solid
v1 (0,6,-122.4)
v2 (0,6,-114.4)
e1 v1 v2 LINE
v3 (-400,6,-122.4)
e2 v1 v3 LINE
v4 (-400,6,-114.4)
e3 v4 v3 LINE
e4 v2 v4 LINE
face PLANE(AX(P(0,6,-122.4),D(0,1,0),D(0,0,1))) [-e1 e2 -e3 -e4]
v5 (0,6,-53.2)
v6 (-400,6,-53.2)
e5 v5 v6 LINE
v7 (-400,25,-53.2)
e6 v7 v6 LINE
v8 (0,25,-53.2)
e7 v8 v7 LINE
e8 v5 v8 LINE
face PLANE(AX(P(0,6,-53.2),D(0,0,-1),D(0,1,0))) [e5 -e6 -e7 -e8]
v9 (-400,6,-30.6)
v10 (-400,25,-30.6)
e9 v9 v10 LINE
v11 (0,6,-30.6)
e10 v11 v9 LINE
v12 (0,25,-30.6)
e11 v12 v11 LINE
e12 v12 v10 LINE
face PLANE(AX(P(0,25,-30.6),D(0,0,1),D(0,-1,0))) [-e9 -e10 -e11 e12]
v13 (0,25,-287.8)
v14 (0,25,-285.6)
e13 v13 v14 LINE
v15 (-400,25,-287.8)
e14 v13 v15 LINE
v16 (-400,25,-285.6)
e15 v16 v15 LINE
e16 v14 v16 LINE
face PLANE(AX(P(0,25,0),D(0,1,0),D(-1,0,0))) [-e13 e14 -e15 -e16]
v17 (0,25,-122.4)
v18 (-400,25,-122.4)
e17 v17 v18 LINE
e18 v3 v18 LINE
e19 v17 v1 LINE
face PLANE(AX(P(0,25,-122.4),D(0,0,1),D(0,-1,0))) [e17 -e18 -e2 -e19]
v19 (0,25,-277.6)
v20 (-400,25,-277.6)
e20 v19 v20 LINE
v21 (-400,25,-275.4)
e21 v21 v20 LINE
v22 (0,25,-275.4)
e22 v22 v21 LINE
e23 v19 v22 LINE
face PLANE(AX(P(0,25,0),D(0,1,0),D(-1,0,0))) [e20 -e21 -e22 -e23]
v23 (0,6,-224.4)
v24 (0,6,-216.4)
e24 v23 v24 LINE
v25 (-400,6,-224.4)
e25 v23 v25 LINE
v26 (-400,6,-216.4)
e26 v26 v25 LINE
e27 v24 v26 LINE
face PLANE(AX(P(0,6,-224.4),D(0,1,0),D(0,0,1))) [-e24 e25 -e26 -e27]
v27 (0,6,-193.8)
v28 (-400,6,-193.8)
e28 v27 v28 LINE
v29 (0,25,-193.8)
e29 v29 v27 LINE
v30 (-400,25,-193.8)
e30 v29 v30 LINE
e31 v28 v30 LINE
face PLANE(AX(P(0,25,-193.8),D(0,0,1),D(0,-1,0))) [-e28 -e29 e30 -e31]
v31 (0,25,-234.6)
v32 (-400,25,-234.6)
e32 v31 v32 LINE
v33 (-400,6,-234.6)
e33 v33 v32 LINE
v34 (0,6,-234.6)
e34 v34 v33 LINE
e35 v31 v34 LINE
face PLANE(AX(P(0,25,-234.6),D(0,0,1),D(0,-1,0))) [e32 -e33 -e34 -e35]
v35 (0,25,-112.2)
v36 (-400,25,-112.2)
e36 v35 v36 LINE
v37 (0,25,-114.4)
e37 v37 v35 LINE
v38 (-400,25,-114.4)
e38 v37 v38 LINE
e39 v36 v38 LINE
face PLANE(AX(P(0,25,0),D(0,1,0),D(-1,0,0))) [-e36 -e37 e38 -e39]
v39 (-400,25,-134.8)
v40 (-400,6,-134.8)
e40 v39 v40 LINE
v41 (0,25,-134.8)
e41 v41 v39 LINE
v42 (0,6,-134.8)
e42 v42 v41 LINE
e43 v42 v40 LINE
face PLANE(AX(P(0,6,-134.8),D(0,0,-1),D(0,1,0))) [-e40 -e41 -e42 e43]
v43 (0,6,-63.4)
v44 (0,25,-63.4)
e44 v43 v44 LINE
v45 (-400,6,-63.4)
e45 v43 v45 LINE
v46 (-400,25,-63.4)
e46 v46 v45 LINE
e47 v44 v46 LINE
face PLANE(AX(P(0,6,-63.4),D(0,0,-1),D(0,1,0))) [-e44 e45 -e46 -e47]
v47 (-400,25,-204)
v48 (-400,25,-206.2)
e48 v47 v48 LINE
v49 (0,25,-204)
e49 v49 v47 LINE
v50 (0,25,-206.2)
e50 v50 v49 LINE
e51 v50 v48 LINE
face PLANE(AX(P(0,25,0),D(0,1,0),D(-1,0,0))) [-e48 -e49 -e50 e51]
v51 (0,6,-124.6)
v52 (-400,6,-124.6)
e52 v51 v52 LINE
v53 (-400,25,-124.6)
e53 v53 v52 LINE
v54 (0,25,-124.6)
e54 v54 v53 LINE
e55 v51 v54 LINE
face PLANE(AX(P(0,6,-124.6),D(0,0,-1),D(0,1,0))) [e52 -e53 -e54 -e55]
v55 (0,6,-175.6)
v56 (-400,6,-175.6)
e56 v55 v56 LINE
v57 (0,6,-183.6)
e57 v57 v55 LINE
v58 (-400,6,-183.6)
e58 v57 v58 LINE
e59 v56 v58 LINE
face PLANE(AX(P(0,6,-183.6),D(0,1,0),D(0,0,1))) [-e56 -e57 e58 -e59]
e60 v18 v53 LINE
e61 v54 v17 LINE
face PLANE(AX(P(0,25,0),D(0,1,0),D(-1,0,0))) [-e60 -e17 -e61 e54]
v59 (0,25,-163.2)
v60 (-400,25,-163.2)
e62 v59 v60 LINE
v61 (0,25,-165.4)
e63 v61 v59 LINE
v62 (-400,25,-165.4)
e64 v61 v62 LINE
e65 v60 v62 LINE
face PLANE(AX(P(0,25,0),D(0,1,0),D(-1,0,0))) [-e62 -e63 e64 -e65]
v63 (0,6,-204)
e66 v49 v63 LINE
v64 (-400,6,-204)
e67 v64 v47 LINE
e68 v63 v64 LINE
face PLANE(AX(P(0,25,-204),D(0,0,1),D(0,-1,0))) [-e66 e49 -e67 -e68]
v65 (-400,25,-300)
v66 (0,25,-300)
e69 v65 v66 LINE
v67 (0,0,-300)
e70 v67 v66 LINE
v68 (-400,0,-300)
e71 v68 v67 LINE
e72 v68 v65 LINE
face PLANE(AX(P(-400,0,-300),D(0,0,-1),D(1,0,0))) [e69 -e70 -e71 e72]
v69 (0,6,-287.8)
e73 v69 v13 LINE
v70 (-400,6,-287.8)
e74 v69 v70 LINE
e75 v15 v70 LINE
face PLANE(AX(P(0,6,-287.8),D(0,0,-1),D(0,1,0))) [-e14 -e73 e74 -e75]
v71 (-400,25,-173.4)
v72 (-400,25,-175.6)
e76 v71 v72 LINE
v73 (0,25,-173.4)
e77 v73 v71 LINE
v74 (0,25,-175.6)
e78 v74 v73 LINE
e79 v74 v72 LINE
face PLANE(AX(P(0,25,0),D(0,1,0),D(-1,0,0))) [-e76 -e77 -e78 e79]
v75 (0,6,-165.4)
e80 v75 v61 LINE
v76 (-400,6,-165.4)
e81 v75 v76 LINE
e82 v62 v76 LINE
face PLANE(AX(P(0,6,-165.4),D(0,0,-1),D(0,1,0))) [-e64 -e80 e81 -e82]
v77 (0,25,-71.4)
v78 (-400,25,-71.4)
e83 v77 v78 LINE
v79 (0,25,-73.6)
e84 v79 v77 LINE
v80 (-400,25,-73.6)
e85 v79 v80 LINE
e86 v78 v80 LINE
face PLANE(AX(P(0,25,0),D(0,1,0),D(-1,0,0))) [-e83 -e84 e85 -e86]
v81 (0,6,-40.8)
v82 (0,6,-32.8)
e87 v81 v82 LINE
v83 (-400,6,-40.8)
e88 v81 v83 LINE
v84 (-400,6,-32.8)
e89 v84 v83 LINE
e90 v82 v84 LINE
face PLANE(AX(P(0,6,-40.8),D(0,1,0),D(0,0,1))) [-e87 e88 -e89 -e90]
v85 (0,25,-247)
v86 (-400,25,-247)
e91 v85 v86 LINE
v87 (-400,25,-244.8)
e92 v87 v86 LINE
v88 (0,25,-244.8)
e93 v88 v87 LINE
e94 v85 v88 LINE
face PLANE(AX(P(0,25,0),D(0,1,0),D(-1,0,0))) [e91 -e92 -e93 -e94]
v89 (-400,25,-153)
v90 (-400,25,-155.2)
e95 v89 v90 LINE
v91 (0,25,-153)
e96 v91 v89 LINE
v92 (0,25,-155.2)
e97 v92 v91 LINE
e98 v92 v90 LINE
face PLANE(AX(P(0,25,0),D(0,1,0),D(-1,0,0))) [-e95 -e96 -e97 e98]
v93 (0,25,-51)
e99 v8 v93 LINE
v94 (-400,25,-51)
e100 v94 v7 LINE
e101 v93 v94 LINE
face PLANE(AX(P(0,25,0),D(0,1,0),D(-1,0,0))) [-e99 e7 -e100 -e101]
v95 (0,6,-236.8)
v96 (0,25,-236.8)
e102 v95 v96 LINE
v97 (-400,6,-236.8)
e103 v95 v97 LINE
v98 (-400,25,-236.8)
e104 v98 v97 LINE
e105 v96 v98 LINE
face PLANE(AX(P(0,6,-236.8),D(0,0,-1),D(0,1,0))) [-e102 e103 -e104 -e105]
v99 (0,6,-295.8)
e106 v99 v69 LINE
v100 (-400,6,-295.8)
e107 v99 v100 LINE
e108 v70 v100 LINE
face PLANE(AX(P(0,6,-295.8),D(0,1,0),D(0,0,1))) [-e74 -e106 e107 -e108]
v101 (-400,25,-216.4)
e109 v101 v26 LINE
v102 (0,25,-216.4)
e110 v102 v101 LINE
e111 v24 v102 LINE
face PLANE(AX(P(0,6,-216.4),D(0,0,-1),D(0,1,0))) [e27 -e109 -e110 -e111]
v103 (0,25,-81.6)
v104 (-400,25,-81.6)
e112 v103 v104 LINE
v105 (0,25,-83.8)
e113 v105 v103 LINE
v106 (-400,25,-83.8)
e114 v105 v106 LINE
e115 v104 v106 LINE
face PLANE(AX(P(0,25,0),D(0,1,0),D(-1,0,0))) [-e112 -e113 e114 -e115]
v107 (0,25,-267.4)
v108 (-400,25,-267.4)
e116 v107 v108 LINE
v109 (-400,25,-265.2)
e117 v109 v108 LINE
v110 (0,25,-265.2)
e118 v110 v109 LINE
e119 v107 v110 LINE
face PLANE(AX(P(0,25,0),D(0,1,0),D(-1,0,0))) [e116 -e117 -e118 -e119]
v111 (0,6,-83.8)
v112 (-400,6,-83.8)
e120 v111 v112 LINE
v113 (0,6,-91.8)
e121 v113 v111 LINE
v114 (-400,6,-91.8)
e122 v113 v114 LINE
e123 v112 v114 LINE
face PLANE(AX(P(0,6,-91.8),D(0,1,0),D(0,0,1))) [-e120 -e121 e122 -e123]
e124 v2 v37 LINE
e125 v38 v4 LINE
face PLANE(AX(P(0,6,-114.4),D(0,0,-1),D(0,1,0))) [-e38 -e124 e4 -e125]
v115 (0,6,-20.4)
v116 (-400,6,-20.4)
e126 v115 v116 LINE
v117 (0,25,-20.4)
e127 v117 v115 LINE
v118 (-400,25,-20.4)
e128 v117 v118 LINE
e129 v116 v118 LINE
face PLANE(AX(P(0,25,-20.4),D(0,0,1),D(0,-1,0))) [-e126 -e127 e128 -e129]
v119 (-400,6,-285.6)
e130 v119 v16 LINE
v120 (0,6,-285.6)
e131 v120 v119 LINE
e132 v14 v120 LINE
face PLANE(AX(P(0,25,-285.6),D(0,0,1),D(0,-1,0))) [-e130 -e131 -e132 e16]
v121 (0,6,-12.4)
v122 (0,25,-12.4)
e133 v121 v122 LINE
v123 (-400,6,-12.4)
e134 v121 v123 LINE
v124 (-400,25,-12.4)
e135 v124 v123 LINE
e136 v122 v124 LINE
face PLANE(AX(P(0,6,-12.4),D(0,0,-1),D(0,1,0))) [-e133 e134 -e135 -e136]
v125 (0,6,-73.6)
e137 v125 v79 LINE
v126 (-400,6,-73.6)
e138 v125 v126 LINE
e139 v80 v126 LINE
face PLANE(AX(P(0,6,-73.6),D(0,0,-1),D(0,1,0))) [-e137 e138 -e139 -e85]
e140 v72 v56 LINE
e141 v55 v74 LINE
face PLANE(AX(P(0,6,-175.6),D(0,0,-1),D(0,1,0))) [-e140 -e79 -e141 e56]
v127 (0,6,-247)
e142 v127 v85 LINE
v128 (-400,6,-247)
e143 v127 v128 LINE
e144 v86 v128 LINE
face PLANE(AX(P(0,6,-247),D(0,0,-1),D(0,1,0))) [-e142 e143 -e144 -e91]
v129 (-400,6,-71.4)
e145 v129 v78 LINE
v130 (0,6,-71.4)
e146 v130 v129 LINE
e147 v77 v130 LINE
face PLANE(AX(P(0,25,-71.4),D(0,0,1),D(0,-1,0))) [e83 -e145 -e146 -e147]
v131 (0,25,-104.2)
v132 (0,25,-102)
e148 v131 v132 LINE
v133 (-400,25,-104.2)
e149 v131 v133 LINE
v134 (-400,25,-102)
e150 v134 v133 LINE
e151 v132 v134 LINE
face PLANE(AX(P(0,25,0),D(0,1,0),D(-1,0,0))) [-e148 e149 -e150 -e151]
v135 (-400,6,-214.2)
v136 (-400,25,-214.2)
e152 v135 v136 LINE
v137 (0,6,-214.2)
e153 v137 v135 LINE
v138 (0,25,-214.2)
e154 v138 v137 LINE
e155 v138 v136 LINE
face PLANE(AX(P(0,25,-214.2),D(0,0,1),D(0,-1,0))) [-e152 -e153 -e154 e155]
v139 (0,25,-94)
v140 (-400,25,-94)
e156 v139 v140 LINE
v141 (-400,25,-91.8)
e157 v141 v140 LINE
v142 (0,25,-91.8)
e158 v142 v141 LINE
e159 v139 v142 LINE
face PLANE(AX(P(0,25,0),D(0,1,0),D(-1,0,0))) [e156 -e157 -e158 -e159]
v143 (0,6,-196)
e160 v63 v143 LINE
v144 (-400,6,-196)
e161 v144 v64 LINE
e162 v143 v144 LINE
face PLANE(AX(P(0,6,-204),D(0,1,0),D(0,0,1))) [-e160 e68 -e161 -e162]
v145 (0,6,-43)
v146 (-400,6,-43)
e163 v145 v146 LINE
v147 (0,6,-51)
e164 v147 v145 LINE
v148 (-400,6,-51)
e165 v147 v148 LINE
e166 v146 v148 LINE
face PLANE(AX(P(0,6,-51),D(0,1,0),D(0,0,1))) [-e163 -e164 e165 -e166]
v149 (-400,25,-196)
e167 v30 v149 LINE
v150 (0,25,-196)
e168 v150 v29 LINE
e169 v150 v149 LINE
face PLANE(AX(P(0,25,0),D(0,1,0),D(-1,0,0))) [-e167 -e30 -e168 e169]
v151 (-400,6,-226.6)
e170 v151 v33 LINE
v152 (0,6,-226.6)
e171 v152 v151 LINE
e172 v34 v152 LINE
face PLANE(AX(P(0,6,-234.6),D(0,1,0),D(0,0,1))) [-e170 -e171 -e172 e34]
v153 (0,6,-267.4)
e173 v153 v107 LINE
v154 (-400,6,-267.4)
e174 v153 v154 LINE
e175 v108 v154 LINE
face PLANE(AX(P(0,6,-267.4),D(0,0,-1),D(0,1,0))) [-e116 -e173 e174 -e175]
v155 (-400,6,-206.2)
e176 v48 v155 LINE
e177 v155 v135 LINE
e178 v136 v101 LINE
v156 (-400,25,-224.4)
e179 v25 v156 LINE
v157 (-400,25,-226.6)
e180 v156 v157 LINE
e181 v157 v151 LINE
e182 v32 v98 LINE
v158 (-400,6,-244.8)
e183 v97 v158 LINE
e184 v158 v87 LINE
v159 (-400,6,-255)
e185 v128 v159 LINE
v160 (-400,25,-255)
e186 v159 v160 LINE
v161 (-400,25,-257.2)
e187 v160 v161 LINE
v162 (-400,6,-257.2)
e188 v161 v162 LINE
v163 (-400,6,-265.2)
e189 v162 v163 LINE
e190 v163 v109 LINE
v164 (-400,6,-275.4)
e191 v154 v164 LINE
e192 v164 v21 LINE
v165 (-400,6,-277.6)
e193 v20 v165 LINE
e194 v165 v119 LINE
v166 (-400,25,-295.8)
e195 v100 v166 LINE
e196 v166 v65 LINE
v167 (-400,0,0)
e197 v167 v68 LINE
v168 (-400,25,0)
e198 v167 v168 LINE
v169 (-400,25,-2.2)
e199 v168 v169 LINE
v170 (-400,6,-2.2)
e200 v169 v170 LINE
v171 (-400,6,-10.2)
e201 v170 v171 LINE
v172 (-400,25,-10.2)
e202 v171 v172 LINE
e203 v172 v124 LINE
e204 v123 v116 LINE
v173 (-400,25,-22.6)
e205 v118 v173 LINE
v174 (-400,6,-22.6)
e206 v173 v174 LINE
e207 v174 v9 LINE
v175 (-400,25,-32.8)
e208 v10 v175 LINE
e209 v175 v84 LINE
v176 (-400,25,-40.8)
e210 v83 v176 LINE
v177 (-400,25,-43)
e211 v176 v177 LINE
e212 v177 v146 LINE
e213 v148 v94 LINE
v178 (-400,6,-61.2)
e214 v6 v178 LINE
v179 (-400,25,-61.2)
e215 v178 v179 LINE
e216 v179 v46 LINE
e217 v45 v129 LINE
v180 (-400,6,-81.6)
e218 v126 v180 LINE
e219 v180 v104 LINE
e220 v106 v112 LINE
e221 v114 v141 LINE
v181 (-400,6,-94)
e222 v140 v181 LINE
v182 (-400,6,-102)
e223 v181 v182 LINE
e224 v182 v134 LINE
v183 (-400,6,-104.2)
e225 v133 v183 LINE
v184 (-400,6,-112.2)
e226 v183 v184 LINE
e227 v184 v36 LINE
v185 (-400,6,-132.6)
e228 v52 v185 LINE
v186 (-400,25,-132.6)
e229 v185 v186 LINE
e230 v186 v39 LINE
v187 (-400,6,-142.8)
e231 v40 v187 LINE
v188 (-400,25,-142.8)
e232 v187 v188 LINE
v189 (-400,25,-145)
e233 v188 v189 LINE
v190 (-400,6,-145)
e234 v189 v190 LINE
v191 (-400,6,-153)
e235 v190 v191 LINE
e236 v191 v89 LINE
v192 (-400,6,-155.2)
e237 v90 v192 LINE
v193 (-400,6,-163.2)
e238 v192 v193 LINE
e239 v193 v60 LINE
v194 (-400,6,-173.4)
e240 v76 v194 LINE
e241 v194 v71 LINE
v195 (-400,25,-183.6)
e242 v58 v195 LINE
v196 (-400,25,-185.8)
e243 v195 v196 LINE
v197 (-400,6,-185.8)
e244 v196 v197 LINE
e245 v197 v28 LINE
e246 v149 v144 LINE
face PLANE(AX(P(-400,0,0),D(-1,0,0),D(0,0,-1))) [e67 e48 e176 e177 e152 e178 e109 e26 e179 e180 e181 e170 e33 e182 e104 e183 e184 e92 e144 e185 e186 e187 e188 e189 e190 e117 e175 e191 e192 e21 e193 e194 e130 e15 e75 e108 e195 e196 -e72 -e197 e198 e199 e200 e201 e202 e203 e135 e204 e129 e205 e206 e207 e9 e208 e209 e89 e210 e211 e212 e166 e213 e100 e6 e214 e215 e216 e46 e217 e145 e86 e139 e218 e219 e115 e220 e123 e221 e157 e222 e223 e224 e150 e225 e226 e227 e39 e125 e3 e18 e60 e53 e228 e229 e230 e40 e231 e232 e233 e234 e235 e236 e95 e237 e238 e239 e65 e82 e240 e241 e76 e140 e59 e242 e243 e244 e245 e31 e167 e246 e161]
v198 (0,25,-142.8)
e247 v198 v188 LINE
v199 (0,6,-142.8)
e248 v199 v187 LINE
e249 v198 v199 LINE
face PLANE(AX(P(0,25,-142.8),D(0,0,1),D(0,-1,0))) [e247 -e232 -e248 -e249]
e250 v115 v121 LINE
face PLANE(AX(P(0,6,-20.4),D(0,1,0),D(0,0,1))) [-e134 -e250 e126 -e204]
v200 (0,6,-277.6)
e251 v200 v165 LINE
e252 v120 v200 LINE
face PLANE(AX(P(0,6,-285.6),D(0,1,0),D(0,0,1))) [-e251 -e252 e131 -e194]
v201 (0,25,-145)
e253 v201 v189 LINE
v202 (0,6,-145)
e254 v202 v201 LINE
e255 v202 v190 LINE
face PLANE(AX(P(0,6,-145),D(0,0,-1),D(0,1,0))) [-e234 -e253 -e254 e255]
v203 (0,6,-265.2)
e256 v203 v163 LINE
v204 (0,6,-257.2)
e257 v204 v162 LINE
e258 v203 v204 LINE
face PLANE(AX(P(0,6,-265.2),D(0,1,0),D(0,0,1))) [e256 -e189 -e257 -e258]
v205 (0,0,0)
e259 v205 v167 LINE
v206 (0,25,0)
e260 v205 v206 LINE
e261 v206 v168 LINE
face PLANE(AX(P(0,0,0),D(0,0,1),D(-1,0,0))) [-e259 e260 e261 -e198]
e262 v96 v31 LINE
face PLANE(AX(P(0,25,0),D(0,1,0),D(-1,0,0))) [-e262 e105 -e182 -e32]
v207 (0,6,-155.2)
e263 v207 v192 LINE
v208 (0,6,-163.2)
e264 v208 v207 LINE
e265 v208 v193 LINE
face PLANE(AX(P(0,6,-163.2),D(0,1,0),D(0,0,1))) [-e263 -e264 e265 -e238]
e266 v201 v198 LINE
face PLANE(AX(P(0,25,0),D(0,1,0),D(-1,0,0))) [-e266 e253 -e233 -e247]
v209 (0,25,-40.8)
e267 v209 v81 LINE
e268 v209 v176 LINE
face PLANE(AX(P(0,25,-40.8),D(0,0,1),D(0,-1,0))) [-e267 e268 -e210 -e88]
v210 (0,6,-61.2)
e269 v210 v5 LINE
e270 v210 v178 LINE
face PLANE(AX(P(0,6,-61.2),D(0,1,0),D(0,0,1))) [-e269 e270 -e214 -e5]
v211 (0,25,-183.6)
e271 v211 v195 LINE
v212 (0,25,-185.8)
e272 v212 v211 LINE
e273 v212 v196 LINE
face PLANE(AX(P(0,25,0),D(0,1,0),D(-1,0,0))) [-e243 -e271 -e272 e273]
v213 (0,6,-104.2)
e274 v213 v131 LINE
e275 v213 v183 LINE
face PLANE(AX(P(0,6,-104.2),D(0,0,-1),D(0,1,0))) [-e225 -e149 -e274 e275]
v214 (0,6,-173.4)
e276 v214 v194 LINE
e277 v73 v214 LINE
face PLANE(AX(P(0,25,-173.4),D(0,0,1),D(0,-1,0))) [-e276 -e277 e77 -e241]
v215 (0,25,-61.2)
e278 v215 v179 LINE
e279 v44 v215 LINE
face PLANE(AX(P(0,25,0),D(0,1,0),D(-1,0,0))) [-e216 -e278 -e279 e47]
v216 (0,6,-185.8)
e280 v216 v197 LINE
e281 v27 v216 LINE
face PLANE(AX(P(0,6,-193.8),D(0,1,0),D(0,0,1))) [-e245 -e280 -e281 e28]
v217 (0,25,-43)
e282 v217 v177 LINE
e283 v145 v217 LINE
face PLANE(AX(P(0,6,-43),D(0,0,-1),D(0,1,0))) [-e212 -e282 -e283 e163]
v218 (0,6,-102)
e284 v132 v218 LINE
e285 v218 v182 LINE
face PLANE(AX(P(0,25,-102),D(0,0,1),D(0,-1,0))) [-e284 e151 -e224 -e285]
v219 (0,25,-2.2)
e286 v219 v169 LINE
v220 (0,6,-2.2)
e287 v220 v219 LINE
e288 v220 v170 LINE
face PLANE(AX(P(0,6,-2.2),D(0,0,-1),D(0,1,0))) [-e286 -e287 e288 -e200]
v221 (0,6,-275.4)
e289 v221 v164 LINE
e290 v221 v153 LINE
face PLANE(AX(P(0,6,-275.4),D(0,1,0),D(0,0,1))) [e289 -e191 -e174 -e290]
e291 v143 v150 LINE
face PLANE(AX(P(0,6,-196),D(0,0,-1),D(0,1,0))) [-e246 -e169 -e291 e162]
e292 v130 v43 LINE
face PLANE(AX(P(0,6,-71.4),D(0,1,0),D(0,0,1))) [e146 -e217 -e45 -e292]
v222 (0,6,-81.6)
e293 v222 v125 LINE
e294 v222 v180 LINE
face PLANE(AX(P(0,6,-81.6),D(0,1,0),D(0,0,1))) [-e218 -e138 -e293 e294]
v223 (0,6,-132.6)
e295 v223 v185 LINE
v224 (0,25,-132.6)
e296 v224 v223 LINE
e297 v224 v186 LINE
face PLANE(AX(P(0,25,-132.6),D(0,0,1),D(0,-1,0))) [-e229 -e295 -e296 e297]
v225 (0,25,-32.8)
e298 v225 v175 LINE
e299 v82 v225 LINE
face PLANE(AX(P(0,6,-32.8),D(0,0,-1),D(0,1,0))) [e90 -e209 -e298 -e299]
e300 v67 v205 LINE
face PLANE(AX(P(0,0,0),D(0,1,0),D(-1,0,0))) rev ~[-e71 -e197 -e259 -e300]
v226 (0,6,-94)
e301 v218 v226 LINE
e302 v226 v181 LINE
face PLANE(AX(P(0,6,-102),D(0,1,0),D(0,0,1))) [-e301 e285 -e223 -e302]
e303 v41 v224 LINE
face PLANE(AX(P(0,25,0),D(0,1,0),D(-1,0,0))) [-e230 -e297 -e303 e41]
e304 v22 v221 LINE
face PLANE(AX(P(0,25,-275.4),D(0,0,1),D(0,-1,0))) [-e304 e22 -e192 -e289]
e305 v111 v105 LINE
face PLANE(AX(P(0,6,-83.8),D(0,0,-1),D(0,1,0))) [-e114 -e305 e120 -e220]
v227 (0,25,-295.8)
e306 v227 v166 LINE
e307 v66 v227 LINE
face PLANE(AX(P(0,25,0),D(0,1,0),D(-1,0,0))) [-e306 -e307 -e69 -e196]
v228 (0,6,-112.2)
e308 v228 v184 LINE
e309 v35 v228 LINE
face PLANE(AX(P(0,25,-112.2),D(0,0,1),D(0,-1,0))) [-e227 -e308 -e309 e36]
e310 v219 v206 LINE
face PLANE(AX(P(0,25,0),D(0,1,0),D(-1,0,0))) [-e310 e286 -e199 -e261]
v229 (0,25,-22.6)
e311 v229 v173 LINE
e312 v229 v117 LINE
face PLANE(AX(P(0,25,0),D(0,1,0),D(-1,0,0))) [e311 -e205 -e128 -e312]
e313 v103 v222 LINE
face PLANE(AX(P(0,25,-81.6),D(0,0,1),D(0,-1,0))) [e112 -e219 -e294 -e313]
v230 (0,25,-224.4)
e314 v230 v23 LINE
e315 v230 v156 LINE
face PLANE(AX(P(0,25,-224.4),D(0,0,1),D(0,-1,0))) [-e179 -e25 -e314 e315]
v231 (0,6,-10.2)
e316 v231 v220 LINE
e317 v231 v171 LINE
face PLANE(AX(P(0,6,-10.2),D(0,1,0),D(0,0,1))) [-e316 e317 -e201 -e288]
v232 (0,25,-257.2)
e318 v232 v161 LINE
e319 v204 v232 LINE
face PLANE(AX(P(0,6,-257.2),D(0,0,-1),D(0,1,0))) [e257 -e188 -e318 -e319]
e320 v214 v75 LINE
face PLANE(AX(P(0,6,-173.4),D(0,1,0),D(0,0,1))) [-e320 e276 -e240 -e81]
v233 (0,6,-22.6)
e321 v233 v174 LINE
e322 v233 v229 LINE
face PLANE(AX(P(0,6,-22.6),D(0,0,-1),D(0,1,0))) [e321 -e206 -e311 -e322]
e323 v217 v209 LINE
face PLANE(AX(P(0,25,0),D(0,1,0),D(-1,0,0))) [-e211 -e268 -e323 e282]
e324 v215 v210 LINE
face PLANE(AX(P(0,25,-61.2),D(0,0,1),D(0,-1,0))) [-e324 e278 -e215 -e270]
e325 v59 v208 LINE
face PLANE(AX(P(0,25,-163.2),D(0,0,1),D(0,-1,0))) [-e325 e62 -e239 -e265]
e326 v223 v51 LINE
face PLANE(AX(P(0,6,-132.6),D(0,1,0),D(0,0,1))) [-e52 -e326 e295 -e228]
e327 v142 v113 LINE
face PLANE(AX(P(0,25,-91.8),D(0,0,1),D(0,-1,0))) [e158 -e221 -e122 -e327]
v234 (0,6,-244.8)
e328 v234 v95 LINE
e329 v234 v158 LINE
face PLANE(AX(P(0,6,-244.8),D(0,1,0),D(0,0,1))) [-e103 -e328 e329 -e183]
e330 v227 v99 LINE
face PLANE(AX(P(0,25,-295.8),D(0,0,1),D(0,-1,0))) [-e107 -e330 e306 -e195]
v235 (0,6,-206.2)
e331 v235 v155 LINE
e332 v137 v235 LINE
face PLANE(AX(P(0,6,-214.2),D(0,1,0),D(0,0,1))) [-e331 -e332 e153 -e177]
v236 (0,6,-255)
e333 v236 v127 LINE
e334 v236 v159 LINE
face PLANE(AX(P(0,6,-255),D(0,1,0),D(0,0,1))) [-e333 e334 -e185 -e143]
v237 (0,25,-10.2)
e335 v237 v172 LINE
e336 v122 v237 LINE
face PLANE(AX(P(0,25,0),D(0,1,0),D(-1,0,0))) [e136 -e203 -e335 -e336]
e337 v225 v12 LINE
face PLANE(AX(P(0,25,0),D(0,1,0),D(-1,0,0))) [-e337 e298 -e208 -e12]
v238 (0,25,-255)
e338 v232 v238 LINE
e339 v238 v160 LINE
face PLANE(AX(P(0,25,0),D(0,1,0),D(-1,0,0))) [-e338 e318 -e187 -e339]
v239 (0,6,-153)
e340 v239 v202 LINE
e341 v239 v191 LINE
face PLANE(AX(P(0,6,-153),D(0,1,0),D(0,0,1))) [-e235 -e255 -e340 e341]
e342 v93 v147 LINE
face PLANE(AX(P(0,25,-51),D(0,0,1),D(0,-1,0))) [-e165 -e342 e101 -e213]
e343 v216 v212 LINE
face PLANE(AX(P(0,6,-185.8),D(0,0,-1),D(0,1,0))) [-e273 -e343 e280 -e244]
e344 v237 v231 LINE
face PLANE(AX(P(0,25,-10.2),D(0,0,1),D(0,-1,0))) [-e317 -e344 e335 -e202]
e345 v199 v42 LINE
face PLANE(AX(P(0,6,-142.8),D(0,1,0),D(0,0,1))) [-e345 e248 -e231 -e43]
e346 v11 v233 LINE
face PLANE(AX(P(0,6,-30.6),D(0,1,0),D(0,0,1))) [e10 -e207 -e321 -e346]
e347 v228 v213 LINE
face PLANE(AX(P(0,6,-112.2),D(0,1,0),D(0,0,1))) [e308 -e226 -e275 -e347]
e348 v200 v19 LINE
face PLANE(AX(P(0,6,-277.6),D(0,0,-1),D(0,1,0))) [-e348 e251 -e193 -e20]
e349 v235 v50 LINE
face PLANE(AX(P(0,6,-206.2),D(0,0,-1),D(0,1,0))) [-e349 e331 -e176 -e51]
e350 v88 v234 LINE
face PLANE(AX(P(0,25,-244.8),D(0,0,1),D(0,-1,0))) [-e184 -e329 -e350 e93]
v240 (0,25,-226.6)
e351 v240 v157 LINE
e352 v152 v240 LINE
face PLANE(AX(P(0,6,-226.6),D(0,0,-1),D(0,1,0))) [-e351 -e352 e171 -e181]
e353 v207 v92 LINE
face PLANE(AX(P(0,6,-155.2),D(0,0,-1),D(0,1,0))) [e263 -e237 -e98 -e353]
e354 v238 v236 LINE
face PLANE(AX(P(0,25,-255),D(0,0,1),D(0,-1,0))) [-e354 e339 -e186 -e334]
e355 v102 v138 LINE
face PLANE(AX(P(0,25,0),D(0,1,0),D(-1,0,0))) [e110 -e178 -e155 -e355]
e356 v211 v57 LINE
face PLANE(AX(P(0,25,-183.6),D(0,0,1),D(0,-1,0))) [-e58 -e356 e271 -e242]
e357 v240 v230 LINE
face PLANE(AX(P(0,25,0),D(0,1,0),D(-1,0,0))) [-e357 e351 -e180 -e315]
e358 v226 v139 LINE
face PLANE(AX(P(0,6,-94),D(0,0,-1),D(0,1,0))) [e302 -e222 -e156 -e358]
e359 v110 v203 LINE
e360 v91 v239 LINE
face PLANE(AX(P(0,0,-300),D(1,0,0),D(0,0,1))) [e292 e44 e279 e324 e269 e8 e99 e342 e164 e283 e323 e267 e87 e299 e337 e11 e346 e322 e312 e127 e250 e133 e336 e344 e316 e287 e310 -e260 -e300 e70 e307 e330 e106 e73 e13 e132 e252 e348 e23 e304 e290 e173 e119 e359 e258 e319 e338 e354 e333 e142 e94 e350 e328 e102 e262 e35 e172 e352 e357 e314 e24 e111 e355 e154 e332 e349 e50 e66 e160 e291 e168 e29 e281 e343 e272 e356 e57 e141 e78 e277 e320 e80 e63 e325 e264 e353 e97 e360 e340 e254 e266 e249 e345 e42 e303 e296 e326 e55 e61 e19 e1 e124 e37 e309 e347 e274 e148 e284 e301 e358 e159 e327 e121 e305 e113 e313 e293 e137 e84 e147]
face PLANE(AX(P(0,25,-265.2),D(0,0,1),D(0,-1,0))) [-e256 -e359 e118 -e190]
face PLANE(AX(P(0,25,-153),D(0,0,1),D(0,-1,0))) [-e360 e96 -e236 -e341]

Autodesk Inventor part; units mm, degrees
ref_plane "YZ Plane" through (0, 0, 0) normal (1, 0, 0) x (0, 1, 0)
ref_plane "XZ Plane" through (0, 0, 0) normal (0, 1, 0) x (-1, 0, 0)
ref_plane "XY Plane" through (0, 0, 0) normal (0, 0, 1) x (1, 0, 0)
sketch "Эскиз1" plane through (0, 0, 0) normal (0, 1, 0) x (-1, 0, 0)
  line L0 (0, 0) -> (400, 0)
  line L1 (400, 0) -> (400, -300)
  line L2 (400, -300) -> (0, -300)
  line L3 (0, -300) -> (0, 0)
  dimension "d0" = 400
  dimension "d1" = 300
extrude "Выдавливание1" add sketch "Эскиз1" along normal blind 25
sketch "Эскиз2" plane through (0, 0, 0) normal (1, 0, 0) x (0, 0, -1)
  line L0 (0, 25) -> (300, 25) projected
  line L1 (2.2, 25) -> (10.2, 25)
  line L2 (10.2, 25) -> (10.2, 6)
  line L3 (10.2, 6) -> (2.2, 6)
  line L4 (2.2, 6) -> (2.2, 25)
  line L5 (0, 0) -> (0, 25) projected
  line L6 (0, 0) -> (300, 0) projected
  line L7 (20.4, 6) -> (12.4, 6)
  line L8 (20.4, 25) -> (20.4, 6)
  line L9 (12.4, 6) -> (12.4, 25)
  line L10 (12.4, 25) -> (20.4, 25)
  line L11 (30.6, 6) -> (22.6, 6)
  line L12 (30.6, 25) -> (30.6, 6)
  line L13 (22.6, 6) -> (22.6, 25)
  line L14 (22.6, 25) -> (30.6, 25)
  line L15 (40.8, 6) -> (32.8, 6)
  line L16 (40.8, 25) -> (40.8, 6)
  line L17 (32.8, 6) -> (32.8, 25)
  line L18 (32.8, 25) -> (40.8, 25)
  line L19 (51, 6) -> (43, 6)
  line L20 (51, 25) -> (51, 6)
  line L21 (43, 6) -> (43, 25)
  line L22 (43, 25) -> (51, 25)
  line L23 (61.2, 6) -> (53.2, 6)
  line L24 (61.2, 25) -> (61.2, 6)
  line L25 (53.2, 6) -> (53.2, 25)
  line L26 (53.2, 25) -> (61.2, 25)
  line L27 (71.4, 6) -> (63.4, 6)
  line L28 (71.4, 25) -> (71.4, 6)
  line L29 (63.4, 6) -> (63.4, 25)
  line L30 (63.4, 25) -> (71.4, 25)
  line L31 (81.6, 6) -> (73.6, 6)
  line L32 (81.6, 25) -> (81.6, 6)
  line L33 (73.6, 6) -> (73.6, 25)
  line L34 (73.6, 25) -> (81.6, 25)
  line L35 (91.8, 6) -> (83.8, 6)
  line L36 (91.8, 25) -> (91.8, 6)
  line L37 (83.8, 6) -> (83.8, 25)
  line L38 (83.8, 25) -> (91.8, 25)
  line L39 (102, 6) -> (94, 6)
  line L40 (102, 25) -> (102, 6)
  line L41 (94, 6) -> (94, 25)
  line L42 (94, 25) -> (102, 25)
  line L43 (112.2, 6) -> (104.2, 6)
  line L44 (112.2, 25) -> (112.2, 6)
  line L45 (104.2, 6) -> (104.2, 25)
  line L46 (104.2, 25) -> (112.2, 25)
  line L47 (122.4, 6) -> (114.4, 6)
  line L48 (122.4, 25) -> (122.4, 6)
  line L49 (114.4, 6) -> (114.4, 25)
  line L50 (114.4, 25) -> (122.4, 25)
  line L51 (132.6, 6) -> (124.6, 6)
  line L52 (132.6, 25) -> (132.6, 6)
  line L53 (124.6, 6) -> (124.6, 25)
  line L54 (124.6, 25) -> (132.6, 25)
  line L55 (142.8, 6) -> (134.8, 6)
  line L56 (142.8, 25) -> (142.8, 6)
  line L57 (134.8, 6) -> (134.8, 25)
  line L58 (134.8, 25) -> (142.8, 25)
  line L59 (153, 6) -> (145, 6)
  line L60 (153, 25) -> (153, 6)
  line L61 (145, 6) -> (145, 25)
  line L62 (145, 25) -> (153, 25)
  line L63 (163.2, 6) -> (155.2, 6)
  line L64 (163.2, 25) -> (163.2, 6)
  line L65 (155.2, 6) -> (155.2, 25)
  line L66 (155.2, 25) -> (163.2, 25)
  line L67 (173.4, 6) -> (165.4, 6)
  line L68 (173.4, 25) -> (173.4, 6)
  line L69 (165.4, 6) -> (165.4, 25)
  line L70 (165.4, 25) -> (173.4, 25)
  line L71 (183.6, 6) -> (175.6, 6)
  line L72 (183.6, 25) -> (183.6, 6)
  line L73 (175.6, 6) -> (175.6, 25)
  line L74 (175.6, 25) -> (183.6, 25)
  line L75 (193.8, 6) -> (185.8, 6)
  line L76 (193.8, 25) -> (193.8, 6)
  line L77 (185.8, 6) -> (185.8, 25)
  line L78 (185.8, 25) -> (193.8, 25)
  line L79 (204, 6) -> (196, 6)
  line L80 (204, 25) -> (204, 6)
  line L81 (196, 6) -> (196, 25)
  line L82 (196, 25) -> (204, 25)
  line L83 (214.2, 6) -> (206.2, 6)
  line L84 (214.2, 25) -> (214.2, 6)
  line L85 (206.2, 6) -> (206.2, 25)
  line L86 (206.2, 25) -> (214.2, 25)
  line L87 (224.4, 6) -> (216.4, 6)
  line L88 (224.4, 25) -> (224.4, 6)
  line L89 (216.4, 6) -> (216.4, 25)
  line L90 (216.4, 25) -> (224.4, 25)
  line L91 (234.6, 6) -> (226.6, 6)
  line L92 (234.6, 25) -> (234.6, 6)
  line L93 (226.6, 6) -> (226.6, 25)
  line L94 (226.6, 25) -> (234.6, 25)
  line L95 (244.8, 6) -> (236.8, 6)
  line L96 (244.8, 25) -> (244.8, 6)
  line L97 (236.8, 6) -> (236.8, 25)
  line L98 (236.8, 25) -> (244.8, 25)
  line L99 (255, 6) -> (247, 6)
  line L100 (255, 25) -> (255, 6)
  line L101 (247, 6) -> (247, 25)
  line L102 (247, 25) -> (255, 25)
  line L103 (265.2, 6) -> (257.2, 6)
  line L104 (265.2, 25) -> (265.2, 6)
  line L105 (257.2, 6) -> (257.2, 25)
  line L106 (257.2, 25) -> (265.2, 25)
  line L107 (275.4, 6) -> (267.4, 6)
  line L108 (275.4, 25) -> (275.4, 6)
  line L109 (267.4, 6) -> (267.4, 25)
  line L110 (267.4, 25) -> (275.4, 25)
  line L111 (285.6, 6) -> (277.6, 6)
  line L112 (285.6, 25) -> (285.6, 6)
  line L113 (277.6, 6) -> (277.6, 25)
  line L114 (277.6, 25) -> (285.6, 25)
  line L115 (295.8, 6) -> (287.8, 6)
  line L116 (295.8, 25) -> (295.8, 6)
  line L117 (287.8, 6) -> (287.8, 25)
  line L118 (287.8, 25) -> (295.8, 25)
  point P0 (287.8, 25)
  point P1 (277.6, 25)
  point P2 (234.6, 25)
  point P3 (226.6, 25)
  point P4 (185.8, 25)
  point P5 (155.2, 25)
  point P6 (122.4, 25)
  point P7 (102, 25)
  point P8 (73.6, 25)
  point P9 (71.4, 25)
  point P10 (61.2, 25)
  point P11 (30.6, 25)
  dimension "d4" = 2.2
  dimension "d5" = 6
  dimension "d6" = 8
  dimension "d10" = 10.2
extrude "Выдавливание2" cut sketch "Эскиз2" against normal through all
properties part number "радиатор300х400"
